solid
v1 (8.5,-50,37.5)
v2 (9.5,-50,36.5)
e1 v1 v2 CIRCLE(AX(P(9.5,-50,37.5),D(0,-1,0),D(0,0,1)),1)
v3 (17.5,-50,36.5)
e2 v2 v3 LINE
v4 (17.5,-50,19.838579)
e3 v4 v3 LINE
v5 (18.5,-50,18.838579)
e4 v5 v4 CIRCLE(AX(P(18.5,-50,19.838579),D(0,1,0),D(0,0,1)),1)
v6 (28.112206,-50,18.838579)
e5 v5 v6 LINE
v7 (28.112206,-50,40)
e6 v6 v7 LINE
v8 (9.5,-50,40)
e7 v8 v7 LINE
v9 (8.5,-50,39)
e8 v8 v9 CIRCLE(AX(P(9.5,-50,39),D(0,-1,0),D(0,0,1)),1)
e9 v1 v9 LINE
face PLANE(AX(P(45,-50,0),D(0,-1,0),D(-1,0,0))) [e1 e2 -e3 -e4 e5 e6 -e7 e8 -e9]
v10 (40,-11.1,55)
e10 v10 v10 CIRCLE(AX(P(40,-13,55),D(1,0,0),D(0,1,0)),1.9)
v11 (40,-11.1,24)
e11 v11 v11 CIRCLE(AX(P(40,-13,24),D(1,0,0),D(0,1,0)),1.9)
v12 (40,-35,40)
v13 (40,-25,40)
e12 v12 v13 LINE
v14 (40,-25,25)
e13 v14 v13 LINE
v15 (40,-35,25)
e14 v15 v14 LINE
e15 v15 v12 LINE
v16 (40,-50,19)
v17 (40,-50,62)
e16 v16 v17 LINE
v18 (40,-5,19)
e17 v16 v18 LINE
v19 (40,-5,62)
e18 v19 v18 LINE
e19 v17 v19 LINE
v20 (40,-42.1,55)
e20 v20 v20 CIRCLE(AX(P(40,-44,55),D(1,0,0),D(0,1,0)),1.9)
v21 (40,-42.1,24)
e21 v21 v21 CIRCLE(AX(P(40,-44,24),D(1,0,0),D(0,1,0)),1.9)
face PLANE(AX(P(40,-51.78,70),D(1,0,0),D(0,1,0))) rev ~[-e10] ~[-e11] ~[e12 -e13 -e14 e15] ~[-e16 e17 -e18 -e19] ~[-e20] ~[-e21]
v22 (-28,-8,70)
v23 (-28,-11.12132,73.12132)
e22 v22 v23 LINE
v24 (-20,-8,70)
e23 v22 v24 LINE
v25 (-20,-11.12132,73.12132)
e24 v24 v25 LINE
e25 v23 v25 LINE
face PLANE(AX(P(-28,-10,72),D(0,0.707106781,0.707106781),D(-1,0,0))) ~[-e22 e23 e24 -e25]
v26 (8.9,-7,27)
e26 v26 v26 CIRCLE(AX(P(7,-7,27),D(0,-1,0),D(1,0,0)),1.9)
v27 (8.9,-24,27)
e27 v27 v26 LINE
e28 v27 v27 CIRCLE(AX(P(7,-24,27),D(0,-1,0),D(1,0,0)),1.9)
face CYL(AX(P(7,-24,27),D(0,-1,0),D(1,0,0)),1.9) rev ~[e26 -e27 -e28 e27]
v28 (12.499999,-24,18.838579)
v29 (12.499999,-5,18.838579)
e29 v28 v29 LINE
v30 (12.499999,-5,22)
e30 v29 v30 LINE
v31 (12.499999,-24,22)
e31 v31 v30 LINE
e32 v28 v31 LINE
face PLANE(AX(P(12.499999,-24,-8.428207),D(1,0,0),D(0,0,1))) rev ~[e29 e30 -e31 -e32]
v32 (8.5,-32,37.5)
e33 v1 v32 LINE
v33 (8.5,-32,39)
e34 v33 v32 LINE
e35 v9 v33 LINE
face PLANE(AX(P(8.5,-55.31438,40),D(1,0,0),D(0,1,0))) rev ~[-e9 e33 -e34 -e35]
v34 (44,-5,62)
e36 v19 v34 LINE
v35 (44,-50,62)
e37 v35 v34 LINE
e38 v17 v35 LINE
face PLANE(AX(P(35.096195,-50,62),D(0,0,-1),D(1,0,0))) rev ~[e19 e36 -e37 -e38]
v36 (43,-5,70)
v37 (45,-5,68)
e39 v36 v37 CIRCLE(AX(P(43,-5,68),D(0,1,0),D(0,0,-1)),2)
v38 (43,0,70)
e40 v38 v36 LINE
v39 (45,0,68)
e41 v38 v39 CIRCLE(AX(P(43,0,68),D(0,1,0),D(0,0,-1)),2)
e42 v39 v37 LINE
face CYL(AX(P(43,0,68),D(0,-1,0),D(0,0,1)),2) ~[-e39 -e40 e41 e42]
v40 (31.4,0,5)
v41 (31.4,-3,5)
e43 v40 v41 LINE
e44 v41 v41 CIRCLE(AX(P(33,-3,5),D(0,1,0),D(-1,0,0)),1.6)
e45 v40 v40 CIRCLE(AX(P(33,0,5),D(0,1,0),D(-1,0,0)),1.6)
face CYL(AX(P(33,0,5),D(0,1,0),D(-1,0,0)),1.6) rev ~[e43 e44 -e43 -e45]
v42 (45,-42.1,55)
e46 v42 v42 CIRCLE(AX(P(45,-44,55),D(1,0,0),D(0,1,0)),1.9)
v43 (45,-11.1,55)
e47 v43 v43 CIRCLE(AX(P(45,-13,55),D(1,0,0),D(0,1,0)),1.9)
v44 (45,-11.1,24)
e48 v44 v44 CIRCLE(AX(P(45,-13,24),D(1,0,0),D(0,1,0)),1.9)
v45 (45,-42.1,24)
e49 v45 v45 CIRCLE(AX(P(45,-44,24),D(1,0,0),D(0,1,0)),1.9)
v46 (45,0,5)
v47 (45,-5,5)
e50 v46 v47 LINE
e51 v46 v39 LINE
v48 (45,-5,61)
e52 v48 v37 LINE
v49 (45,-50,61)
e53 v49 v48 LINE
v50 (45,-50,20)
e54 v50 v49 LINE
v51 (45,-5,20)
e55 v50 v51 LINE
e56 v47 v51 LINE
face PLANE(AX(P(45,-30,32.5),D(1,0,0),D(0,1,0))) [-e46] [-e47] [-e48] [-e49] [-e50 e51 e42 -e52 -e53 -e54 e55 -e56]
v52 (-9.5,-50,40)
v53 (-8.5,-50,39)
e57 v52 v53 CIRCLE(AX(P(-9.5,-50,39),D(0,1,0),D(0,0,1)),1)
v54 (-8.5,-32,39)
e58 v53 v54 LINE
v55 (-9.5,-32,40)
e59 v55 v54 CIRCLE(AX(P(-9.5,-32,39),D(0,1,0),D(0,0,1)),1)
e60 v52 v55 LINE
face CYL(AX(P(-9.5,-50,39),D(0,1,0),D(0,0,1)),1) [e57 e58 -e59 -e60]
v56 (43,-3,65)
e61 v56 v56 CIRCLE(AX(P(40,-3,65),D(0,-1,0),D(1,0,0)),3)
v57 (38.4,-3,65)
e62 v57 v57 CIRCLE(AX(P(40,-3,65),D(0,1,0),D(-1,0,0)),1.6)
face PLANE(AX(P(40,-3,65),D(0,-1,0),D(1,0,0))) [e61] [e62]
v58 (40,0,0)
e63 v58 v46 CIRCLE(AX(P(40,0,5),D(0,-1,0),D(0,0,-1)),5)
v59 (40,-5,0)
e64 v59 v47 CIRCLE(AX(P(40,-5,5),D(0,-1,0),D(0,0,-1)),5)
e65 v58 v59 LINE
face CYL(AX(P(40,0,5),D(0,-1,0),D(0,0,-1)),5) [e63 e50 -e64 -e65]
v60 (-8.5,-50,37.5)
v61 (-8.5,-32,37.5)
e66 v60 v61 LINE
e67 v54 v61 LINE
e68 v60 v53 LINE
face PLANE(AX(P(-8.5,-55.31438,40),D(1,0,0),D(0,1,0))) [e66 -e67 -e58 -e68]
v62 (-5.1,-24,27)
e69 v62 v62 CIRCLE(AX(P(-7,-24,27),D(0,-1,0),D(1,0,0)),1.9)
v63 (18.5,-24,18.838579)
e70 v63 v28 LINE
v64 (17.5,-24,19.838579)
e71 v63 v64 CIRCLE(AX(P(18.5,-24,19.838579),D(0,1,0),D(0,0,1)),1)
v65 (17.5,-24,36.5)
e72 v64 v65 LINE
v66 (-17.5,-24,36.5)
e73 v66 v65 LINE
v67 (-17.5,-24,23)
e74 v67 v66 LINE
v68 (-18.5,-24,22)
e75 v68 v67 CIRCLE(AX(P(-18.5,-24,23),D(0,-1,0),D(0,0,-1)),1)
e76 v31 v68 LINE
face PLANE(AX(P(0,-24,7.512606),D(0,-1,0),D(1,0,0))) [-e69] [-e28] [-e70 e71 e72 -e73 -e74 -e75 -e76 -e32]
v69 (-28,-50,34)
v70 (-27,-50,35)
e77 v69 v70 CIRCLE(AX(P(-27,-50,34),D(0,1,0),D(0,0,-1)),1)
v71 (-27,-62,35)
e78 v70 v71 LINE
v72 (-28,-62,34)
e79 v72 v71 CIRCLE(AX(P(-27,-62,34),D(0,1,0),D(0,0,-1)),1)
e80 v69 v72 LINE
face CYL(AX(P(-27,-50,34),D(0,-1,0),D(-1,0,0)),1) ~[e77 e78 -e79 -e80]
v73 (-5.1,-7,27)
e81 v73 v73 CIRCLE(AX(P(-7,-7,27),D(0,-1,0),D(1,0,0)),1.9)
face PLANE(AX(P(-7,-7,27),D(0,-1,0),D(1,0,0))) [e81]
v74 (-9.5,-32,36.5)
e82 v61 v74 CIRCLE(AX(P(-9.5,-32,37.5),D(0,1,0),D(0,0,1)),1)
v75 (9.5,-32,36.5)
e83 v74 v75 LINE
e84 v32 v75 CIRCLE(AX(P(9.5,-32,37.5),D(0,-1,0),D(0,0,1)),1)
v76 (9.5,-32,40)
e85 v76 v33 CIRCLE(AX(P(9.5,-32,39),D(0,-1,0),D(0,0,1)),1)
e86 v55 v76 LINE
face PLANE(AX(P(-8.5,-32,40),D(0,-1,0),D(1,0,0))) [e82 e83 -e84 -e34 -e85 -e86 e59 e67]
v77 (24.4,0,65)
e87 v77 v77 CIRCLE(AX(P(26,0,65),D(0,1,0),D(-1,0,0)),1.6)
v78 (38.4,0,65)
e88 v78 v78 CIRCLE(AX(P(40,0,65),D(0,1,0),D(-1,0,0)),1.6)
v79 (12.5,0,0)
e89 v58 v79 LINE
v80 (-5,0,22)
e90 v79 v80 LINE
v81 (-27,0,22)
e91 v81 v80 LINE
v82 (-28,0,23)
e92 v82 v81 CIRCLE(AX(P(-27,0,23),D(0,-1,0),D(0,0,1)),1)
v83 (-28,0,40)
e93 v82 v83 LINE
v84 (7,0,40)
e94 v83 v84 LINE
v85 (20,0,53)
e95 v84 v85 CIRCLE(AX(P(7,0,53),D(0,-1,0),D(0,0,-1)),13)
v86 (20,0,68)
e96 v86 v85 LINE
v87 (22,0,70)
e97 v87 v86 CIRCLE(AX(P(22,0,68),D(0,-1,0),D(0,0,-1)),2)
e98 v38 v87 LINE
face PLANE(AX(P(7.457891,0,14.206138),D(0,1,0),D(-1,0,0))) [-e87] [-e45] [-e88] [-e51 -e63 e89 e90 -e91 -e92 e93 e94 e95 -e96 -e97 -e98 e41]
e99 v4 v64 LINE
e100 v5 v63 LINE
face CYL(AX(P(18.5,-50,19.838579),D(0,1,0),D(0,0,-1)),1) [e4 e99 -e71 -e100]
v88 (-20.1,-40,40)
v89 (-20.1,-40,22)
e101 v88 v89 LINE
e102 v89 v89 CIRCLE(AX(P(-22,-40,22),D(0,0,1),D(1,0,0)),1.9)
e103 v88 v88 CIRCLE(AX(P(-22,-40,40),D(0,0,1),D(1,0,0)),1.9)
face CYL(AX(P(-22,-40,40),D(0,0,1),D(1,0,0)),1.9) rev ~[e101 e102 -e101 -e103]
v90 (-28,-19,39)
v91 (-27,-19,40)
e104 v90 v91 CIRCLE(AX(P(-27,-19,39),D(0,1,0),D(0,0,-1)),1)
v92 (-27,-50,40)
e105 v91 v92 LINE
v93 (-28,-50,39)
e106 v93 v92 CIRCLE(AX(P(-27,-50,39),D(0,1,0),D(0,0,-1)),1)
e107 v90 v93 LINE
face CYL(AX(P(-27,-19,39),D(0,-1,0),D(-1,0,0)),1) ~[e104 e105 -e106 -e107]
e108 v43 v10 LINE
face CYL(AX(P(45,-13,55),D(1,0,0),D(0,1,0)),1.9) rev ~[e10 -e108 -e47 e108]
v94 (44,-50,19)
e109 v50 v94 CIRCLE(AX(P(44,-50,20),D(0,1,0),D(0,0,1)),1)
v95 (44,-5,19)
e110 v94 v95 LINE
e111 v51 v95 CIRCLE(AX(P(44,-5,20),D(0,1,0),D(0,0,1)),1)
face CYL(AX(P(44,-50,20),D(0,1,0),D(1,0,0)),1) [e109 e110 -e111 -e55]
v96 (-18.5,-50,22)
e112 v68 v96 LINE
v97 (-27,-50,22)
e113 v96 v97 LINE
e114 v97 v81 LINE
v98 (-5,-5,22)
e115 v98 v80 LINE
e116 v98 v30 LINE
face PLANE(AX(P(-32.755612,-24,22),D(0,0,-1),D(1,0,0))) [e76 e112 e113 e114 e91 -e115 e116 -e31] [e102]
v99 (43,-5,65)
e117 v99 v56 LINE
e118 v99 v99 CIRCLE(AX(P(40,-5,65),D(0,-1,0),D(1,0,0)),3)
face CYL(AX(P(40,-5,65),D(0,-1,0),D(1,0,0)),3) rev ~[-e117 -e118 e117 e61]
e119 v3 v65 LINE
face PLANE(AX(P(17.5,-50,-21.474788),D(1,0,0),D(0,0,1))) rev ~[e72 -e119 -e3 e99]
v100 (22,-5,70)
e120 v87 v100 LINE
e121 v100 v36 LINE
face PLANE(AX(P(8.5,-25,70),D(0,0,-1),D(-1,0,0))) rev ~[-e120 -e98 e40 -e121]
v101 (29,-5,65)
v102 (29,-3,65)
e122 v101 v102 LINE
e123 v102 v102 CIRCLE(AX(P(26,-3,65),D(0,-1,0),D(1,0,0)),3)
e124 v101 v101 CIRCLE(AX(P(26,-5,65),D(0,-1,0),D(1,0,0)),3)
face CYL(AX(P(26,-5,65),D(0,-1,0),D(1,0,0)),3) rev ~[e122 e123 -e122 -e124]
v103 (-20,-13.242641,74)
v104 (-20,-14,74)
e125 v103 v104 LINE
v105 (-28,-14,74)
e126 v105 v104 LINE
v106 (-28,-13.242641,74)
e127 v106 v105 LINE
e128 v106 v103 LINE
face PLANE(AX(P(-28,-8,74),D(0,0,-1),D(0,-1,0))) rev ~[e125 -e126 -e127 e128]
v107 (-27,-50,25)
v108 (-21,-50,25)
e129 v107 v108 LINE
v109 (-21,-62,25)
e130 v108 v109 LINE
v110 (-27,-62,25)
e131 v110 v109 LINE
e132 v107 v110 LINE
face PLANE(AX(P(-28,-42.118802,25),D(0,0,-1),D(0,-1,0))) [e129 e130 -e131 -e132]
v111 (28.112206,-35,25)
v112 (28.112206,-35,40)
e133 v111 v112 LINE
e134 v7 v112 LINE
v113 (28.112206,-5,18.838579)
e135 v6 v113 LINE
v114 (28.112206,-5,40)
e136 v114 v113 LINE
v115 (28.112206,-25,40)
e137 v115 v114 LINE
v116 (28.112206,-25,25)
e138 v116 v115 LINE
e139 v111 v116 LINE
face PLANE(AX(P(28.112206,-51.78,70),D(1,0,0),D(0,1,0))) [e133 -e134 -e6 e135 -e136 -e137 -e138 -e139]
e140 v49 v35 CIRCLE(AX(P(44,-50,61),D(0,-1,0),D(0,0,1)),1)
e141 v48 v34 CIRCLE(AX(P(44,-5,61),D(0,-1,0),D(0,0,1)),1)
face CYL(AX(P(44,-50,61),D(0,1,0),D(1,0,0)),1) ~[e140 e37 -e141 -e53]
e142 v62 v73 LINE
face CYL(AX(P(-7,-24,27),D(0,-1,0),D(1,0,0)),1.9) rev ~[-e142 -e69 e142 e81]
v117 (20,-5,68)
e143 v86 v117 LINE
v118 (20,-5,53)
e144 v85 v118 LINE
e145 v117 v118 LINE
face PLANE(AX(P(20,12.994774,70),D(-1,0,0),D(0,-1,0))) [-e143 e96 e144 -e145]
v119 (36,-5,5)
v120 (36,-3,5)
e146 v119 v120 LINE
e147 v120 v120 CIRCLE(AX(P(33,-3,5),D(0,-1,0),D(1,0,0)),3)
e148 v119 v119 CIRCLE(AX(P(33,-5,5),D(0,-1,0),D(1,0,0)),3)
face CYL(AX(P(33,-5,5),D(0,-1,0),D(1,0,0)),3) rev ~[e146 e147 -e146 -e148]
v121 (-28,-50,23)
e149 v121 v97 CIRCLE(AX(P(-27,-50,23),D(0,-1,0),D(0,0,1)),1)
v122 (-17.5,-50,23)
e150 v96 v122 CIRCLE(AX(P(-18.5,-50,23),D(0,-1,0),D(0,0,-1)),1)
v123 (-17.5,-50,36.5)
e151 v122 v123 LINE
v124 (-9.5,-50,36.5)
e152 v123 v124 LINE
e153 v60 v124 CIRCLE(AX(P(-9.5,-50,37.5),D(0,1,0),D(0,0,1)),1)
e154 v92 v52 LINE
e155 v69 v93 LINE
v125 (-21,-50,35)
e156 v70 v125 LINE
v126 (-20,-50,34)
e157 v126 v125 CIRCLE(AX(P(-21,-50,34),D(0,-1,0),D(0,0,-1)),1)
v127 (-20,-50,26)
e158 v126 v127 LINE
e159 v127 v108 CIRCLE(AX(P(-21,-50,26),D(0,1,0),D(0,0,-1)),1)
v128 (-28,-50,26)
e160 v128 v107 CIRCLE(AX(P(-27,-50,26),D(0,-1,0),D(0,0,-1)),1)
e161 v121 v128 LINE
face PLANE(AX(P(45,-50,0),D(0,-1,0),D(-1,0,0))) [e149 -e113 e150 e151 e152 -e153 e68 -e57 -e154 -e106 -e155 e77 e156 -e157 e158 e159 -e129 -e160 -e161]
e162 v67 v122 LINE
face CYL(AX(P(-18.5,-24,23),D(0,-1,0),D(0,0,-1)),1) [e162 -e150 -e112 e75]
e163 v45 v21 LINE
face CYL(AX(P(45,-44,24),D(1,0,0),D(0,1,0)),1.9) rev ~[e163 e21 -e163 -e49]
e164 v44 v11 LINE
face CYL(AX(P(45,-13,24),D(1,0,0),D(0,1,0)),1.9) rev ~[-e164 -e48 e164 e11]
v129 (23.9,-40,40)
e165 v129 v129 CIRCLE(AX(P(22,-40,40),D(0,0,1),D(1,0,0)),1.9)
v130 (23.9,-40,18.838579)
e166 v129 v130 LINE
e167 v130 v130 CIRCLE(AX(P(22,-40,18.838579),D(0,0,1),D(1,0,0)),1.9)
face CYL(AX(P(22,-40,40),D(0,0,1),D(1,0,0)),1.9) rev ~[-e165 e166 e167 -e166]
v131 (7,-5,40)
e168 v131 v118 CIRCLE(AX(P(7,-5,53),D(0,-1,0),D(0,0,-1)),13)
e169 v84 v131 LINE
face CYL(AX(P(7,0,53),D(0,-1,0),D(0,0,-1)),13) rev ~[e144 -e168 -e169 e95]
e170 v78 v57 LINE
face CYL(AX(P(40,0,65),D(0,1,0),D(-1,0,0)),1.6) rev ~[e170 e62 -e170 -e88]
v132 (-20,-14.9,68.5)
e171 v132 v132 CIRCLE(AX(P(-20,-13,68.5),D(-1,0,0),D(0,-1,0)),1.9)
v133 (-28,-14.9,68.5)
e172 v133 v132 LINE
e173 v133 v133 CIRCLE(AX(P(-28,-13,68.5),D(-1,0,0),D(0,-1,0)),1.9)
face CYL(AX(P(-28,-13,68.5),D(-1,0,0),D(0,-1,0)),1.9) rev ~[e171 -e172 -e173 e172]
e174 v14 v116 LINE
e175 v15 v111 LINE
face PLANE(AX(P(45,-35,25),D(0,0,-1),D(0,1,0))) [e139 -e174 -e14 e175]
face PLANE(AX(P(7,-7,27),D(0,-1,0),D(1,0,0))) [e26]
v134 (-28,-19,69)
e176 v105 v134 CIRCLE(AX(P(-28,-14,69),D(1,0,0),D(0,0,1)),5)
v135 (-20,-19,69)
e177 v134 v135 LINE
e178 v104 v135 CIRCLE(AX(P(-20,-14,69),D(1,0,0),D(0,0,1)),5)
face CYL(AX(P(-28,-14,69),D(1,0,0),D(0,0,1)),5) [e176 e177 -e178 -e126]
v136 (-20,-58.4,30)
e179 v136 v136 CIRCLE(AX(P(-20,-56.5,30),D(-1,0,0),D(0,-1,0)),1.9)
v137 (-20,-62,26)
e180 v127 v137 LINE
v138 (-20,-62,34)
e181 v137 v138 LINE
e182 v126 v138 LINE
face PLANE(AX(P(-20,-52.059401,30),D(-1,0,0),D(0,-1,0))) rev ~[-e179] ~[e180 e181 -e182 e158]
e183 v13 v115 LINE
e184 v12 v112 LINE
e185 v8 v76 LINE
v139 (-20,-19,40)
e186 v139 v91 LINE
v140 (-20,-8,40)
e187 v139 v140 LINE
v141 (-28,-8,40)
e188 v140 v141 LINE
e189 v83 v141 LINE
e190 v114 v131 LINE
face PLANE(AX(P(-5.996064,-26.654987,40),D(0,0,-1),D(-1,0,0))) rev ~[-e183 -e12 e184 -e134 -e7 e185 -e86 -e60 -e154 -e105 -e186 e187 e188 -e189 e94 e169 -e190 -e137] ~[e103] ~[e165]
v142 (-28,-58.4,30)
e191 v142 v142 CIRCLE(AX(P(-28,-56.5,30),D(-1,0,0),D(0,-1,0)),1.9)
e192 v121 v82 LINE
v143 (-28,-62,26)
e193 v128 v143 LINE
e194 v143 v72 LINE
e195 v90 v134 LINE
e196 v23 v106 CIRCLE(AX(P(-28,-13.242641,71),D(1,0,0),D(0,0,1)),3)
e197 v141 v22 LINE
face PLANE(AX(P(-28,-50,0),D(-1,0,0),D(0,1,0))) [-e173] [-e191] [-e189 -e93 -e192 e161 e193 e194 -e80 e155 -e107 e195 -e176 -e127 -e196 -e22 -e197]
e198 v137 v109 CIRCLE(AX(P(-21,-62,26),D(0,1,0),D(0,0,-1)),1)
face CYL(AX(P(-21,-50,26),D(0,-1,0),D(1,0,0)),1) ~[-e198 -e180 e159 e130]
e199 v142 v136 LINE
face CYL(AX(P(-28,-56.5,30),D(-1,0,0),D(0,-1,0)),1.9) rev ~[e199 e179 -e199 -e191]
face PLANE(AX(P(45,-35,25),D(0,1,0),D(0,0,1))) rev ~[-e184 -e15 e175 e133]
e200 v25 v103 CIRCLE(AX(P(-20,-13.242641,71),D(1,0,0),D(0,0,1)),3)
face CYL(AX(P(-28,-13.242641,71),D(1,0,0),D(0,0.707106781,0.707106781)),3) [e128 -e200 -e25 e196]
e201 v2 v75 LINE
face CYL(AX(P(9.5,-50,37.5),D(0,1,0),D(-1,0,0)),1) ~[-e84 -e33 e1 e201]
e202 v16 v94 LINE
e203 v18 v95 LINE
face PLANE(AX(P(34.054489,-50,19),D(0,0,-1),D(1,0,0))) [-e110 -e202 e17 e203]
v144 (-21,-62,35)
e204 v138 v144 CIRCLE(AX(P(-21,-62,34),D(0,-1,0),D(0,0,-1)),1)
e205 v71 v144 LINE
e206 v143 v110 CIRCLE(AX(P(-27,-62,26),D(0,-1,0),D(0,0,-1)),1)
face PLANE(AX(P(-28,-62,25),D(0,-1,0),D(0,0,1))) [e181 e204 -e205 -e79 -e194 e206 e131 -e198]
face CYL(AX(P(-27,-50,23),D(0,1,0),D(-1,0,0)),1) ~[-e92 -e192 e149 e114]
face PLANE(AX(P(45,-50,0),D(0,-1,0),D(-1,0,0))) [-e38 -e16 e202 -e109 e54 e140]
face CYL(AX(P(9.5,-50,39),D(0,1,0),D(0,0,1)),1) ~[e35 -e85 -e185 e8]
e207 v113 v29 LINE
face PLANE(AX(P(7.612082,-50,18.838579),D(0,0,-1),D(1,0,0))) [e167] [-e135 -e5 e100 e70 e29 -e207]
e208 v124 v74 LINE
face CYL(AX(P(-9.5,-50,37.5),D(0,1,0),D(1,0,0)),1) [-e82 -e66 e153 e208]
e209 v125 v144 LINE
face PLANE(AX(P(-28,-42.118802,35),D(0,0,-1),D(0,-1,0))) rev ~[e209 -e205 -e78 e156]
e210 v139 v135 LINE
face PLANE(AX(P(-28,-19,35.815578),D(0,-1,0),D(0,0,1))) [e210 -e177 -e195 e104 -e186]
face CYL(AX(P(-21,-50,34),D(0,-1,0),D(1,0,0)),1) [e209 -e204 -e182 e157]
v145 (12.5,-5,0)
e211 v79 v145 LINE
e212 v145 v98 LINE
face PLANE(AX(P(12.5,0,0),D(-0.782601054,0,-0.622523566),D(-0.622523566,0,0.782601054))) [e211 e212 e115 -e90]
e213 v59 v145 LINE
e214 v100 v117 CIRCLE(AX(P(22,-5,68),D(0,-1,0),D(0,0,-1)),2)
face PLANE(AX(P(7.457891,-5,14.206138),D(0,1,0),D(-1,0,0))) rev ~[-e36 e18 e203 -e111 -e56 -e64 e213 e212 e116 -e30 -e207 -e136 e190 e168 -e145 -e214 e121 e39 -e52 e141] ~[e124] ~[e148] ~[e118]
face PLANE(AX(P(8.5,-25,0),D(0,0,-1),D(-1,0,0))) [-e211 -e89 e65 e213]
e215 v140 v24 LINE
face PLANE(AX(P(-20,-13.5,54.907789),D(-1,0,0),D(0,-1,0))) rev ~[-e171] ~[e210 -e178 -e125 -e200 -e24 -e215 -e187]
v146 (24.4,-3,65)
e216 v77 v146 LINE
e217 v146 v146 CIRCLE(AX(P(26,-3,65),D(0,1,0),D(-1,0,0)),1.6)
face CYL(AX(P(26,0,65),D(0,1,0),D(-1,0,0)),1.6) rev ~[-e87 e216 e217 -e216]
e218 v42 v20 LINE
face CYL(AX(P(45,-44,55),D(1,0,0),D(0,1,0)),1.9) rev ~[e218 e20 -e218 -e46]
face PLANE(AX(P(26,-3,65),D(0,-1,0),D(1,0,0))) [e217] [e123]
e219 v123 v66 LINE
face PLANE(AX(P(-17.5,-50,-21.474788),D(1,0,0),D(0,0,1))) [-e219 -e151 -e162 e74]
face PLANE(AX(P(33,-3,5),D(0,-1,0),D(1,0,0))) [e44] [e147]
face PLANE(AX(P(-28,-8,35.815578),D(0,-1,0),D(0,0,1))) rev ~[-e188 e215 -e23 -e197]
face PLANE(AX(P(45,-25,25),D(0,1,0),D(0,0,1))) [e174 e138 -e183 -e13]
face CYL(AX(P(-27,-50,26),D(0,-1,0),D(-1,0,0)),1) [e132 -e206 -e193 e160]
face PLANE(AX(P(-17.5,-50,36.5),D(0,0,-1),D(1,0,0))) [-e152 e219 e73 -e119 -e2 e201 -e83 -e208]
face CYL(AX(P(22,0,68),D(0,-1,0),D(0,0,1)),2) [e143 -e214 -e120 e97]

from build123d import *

# Parameters (mm, degrees)
PAD_DEPTH            = 70
SKETCH001_W          = 11.887794
SKETCH001_H          = 46.78
POCKET_DEPTH         = 70.001
POCKET001_DEPTH      = 30
SKETCH003_R          = 1.9
POCKET002_DEPTH      = 40.001
SKETCH004_W          = 17
SKETCH004_H          = 23.314381
POCKET003_DEPTH      = 40.001
SKETCH005_W          = 35
SKETCH005_H          = 57.974789
POCKET004_DEPTH      = 26
SKETCH006_W          = 45.255611
SKETCH006_H          = 30.428207
POCKET005_DEPTH      = 28
POCKET005_DEPTH_BACK = -100
SKETCH007_W          = 26.242121
SKETCH007_H          = 29.741062
POCKET006_DEPTH      = 45
SKETCH008_W          = 15.625622
SKETCH008_H          = 14.392597
SKETCH008_W_2        = 24.610352
SKETCH008_H_2        = 31.67345
POCKET007_DEPTH      = 45
SKETCH009_R          = 1.9
POCKET008_DEPTH      = 13
SKETCH010_R          = 1.6
POCKET009_DEPTH      = 5
SKETCH014_W          = 10
SKETCH014_H          = 15
PAD001_DEPTH         = 23
SKETCH015_W          = 11
SKETCH015_H          = 38.184422
SKETCH015_W_2        = 19.881198
SKETCH015_H_2        = 10
PAD002_DEPTH         = 8
SKETCH013_R          = 1.9
POCKET010_DEPTH      = 17
SKETCH011_R          = 1.9
POCKET011_DEPTH      = 15
PAD003_DEPTH         = 5
SKETCH017_R          = 3
POCKET012_DEPTH      = 2
CHAMFER_SIZE         = 4
FILLET_R             = 5
FILLET001_R          = 1
FILLET002_R          = 1
FILLET003_R          = 1
FILLET004_R          = 1
FILLET005_R          = 5
FILLET006_R          = 1
FILLET007_R          = 2
FILLET008_R          = 1
FILLET009_R          = 13
FILLET010_R          = 1
FILLET011_R          = 3


with BuildPart() as part:
    # Sketch → Pad (new body)
    with BuildSketch(Plane.XY):
        Polygon((0, 0), (45, 0), (45, -50), (-28, -50), (-28, 0), align=None)
    extrude(amount=PAD_DEPTH)

    # Sketch001 (on Face7 of Pad) → Pocket (cut, through all)
    with BuildSketch(Plane.XY.offset(70)):
        with Locations((34.056103, -28.39)):
            Rectangle(SKETCH001_W, SKETCH001_H)
    extrude(amount=-POCKET_DEPTH, mode=Mode.SUBTRACT)

    # Sketch002 (on Face5 of Pocket) → Pocket001 (cut)
    with BuildSketch(Plane.XY.offset(70)):
        Polygon((30, -5), (30, -65.096024), (-40.783405, -65.096024), (-40.783405, 12.994774), (20, 12.994774), (20, -5), align=None)
    extrude(amount=-POCKET001_DEPTH, mode=Mode.SUBTRACT)

    # Sketch003 (on Face6 of Pocket001) → Pocket002 (cut, through all)
    with BuildSketch(Plane.XY.offset(40)):
        with Locations((-22, -40)):
            Circle(SKETCH003_R)
        with Locations((22, -40)):
            Circle(SKETCH003_R)
    extrude(amount=-POCKET002_DEPTH, mode=Mode.SUBTRACT)

    # Sketch004 (on Face6 of Pocket002) → Pocket003 (cut, through all)
    with BuildSketch(Plane.XY.offset(40)):
        with Locations((0, -43.65719)):
            Rectangle(SKETCH004_W, SKETCH004_H)
    extrude(amount=-POCKET003_DEPTH, mode=Mode.SUBTRACT)

    # Sketch005 (on Face13 of Pocket003) → Pocket004 (cut)
    with BuildSketch(Plane.XZ.offset(50)):
        with Locations((0, 7.512606)):
            Rectangle(SKETCH005_W, SKETCH005_H)
    extrude(amount=-POCKET004_DEPTH, mode=Mode.SUBTRACT)

    # Sketch006 (on Face11 of Pocket004) → Pocket005 (cut, two sides)
    with BuildSketch(Plane.XZ.offset(24)) as pocket005_sk:
        with Locations((-10.127806, 6.785896)):
            Rectangle(SKETCH006_W, SKETCH006_H)
    extrude(amount=-POCKET005_DEPTH, mode=Mode.SUBTRACT)
    extrude(pocket005_sk.sketch, amount=-POCKET005_DEPTH_BACK, mode=Mode.SUBTRACT)

    # Sketch007 (on Face12 of Pocket005) → Pocket006 (cut)
    with BuildSketch(Plane.XZ.offset(50)):
        with Locations((20.733142, 3.968048)):
            Rectangle(SKETCH007_W, SKETCH007_H)
    extrude(amount=-POCKET006_DEPTH, mode=Mode.SUBTRACT)

    # Sketch008 (on Face14 of Pocket006) → Pocket007 (cut)
    with BuildSketch(Plane.XZ.offset(50)):
        with Locations((42.909006, 69.196298)):
            Rectangle(SKETCH008_W, SKETCH008_H)
        with Locations((46.359665, 3.163275)):
            Rectangle(SKETCH008_W_2, SKETCH008_H_2)
    extrude(amount=-POCKET007_DEPTH, mode=Mode.SUBTRACT)

    # Sketch009 (on Face3 of Pocket007) → Pocket008 (cut)
    with BuildSketch(Plane.YZ.offset(45)):
        with Locations((-44, 55)):
            Circle(SKETCH009_R)
        with Locations((-13, 24)):
            Circle(SKETCH009_R)
        with Locations((-13, 55)):
            Circle(SKETCH009_R)
        with Locations((-44, 24)):
            Circle(SKETCH009_R)
    extrude(amount=-POCKET008_DEPTH, mode=Mode.SUBTRACT)

    # Sketch010 (on Face1 of Pocket008) → Pocket009 (cut)
    with BuildSketch(Plane(origin=(0, 0, 0), x_dir=(-1, 0, 0), z_dir=(0, 1, 0))):
        with Locations((-33, 5)):
            Circle(SKETCH010_R)
        with Locations((-40, 65)):
            Circle(SKETCH010_R)
        with Locations((-26, 65)):
            Circle(SKETCH010_R)
    extrude(amount=-POCKET009_DEPTH, mode=Mode.SUBTRACT)

    # Sketch014 (on Face4 of Pocket009) → Pad001 (join)
    with BuildSketch(Plane.YZ.offset(45)):
        with Locations((-30, 32.5)):
            Rectangle(SKETCH014_W, SKETCH014_H)
    extrude(amount=-PAD001_DEPTH)

    # Sketch015 (on Face29 of Pad001) → Pad002 (join)
    with BuildSketch(Plane(origin=(-28, 0, 0), x_dir=(0, -1, 0), z_dir=(-1, 0, 0))):
        with Locations((13.5, 54.907789)):
            Rectangle(SKETCH015_W, SKETCH015_H)
        with Locations((52.059401, 30)):
            Rectangle(SKETCH015_W_2, SKETCH015_H_2)
    extrude(amount=-PAD002_DEPTH)

    # Sketch013 (on Face19 of Pad002) → Pocket010 (cut)
    with BuildSketch(Plane.XZ.offset(24)):
        with Locations((-7, 27)):
            Circle(SKETCH013_R)
        with Locations((7, 27)):
            Circle(SKETCH013_R)
    extrude(amount=-POCKET010_DEPTH, mode=Mode.SUBTRACT)

    # Sketch011 (on Face29 of Pad002) → Pocket011 (cut)
    with BuildSketch(Plane(origin=(-28, 0, 0), x_dir=(0, -1, 0), z_dir=(-1, 0, 0))):
        with Locations((56.5, 30)):
            Circle(SKETCH011_R)
        with Locations((13, 68.5)):
            Circle(SKETCH011_R)
    extrude(amount=-POCKET011_DEPTH, mode=Mode.SUBTRACT)

    # Sketch016 (on Face1 of Pocket011) → Pad003 (join)
    with BuildSketch(Plane(origin=(0, 0, 0), x_dir=(-1, 0, 0), z_dir=(0, 1, 0))):
        Polygon((-12.5, 0), (5, 22), (-15.71, 22), align=None)
    extrude(amount=-PAD003_DEPTH)

    # Sketch017 (on Face28 of Pad003) → Pocket012 (cut)
    with BuildSketch(Plane.XZ.offset(5)):
        with Locations((26, 65)):
            Circle(SKETCH017_R)
        with Locations((33, 5)):
            Circle(SKETCH017_R)
        with Locations((40, 65)):
            Circle(SKETCH017_R)
    extrude(amount=-POCKET012_DEPTH, mode=Mode.SUBTRACT)

    # Chamfer
    chamfer_edges = [part.edges().sort_by_distance(p)[0] for p in [
        (-24, -8, 74),
    ]]
    chamfer(chamfer_edges, length=CHAMFER_SIZE)

    # Fillet
    fillet_edges = [part.edges().sort_by_distance(p)[0] for p in [
        (-24, -19, 74),
    ]]
    fillet(fillet_edges, radius=FILLET_R)

    # Fillet001
    fillet001_edges = [part.edges().sort_by_distance(p)[0] for p in [
        (-28, -34.5, 40),
    ]]
    fillet(fillet001_edges, radius=FILLET001_R)

    # Fillet002
    fillet002_edges = [part.edges().sort_by_distance(p)[0] for p in [
        (-28, -25, 22),
    ]]
    fillet(fillet002_edges, radius=FILLET002_R)

    # Fillet003
    fillet003_edges = [part.edges().sort_by_distance(p)[0] for p in [
        (-17.5, -37, 22),
    ]]
    fillet(fillet003_edges, radius=FILLET003_R)

    # Fillet004
    fillet004_edges = [part.edges().sort_by_distance(p)[0] for p in [
        (17.5, -37, 18.838579),
    ]]
    fillet(fillet004_edges, radius=FILLET004_R)

    # Fillet005
    fillet005_edges = [part.edges().sort_by_distance(p)[0] for p in [
        (45, -2.5, 0),
    ]]
    fillet(fillet005_edges, radius=FILLET005_R)

    # Fillet006
    fillet006_edges = [part.edges().sort_by_distance(p)[0] for p in [
        (45, -27.5, 19),
        (45, -27.5, 62),
    ]]
    fillet(fillet006_edges, radius=FILLET006_R)

    # Fillet007
    fillet007_edges = [part.edges().sort_by_distance(p)[0] for p in [
        (45, -2.5, 70),
        (20, -2.5, 70),
    ]]
    fillet(fillet007_edges, radius=FILLET007_R)

    # Fillet008
    fillet008_edges = [part.edges().sort_by_distance(p)[0] for p in [
        (-8.5, -41, 36.5),
        (8.5, -41, 36.5),
        (-8.5, -41, 40),
        (8.5, -41, 40),
    ]]
    fillet(fillet008_edges, radius=FILLET008_R)

    # Fillet009
    fillet009_edges = [part.edges().sort_by_distance(p)[0] for p in [
        (20, -2.5, 40),
    ]]
    fillet(fillet009_edges, radius=FILLET009_R)

    # Fillet010
    fillet010_edges = [part.edges().sort_by_distance(p)[0] for p in [
        (-28, -56, 35),
        (-20, -56, 35),
        (-20, -56, 25),
        (-28, -56, 25),
    ]]
    fillet(fillet010_edges, radius=FILLET010_R)

    # Fillet011
    fillet011_edges = [part.edges().sort_by_distance(p)[0] for p in [
        (-24, -12, 74),
    ]]
    fillet(fillet011_edges, radius=FILLET011_R)


solid = part.part
